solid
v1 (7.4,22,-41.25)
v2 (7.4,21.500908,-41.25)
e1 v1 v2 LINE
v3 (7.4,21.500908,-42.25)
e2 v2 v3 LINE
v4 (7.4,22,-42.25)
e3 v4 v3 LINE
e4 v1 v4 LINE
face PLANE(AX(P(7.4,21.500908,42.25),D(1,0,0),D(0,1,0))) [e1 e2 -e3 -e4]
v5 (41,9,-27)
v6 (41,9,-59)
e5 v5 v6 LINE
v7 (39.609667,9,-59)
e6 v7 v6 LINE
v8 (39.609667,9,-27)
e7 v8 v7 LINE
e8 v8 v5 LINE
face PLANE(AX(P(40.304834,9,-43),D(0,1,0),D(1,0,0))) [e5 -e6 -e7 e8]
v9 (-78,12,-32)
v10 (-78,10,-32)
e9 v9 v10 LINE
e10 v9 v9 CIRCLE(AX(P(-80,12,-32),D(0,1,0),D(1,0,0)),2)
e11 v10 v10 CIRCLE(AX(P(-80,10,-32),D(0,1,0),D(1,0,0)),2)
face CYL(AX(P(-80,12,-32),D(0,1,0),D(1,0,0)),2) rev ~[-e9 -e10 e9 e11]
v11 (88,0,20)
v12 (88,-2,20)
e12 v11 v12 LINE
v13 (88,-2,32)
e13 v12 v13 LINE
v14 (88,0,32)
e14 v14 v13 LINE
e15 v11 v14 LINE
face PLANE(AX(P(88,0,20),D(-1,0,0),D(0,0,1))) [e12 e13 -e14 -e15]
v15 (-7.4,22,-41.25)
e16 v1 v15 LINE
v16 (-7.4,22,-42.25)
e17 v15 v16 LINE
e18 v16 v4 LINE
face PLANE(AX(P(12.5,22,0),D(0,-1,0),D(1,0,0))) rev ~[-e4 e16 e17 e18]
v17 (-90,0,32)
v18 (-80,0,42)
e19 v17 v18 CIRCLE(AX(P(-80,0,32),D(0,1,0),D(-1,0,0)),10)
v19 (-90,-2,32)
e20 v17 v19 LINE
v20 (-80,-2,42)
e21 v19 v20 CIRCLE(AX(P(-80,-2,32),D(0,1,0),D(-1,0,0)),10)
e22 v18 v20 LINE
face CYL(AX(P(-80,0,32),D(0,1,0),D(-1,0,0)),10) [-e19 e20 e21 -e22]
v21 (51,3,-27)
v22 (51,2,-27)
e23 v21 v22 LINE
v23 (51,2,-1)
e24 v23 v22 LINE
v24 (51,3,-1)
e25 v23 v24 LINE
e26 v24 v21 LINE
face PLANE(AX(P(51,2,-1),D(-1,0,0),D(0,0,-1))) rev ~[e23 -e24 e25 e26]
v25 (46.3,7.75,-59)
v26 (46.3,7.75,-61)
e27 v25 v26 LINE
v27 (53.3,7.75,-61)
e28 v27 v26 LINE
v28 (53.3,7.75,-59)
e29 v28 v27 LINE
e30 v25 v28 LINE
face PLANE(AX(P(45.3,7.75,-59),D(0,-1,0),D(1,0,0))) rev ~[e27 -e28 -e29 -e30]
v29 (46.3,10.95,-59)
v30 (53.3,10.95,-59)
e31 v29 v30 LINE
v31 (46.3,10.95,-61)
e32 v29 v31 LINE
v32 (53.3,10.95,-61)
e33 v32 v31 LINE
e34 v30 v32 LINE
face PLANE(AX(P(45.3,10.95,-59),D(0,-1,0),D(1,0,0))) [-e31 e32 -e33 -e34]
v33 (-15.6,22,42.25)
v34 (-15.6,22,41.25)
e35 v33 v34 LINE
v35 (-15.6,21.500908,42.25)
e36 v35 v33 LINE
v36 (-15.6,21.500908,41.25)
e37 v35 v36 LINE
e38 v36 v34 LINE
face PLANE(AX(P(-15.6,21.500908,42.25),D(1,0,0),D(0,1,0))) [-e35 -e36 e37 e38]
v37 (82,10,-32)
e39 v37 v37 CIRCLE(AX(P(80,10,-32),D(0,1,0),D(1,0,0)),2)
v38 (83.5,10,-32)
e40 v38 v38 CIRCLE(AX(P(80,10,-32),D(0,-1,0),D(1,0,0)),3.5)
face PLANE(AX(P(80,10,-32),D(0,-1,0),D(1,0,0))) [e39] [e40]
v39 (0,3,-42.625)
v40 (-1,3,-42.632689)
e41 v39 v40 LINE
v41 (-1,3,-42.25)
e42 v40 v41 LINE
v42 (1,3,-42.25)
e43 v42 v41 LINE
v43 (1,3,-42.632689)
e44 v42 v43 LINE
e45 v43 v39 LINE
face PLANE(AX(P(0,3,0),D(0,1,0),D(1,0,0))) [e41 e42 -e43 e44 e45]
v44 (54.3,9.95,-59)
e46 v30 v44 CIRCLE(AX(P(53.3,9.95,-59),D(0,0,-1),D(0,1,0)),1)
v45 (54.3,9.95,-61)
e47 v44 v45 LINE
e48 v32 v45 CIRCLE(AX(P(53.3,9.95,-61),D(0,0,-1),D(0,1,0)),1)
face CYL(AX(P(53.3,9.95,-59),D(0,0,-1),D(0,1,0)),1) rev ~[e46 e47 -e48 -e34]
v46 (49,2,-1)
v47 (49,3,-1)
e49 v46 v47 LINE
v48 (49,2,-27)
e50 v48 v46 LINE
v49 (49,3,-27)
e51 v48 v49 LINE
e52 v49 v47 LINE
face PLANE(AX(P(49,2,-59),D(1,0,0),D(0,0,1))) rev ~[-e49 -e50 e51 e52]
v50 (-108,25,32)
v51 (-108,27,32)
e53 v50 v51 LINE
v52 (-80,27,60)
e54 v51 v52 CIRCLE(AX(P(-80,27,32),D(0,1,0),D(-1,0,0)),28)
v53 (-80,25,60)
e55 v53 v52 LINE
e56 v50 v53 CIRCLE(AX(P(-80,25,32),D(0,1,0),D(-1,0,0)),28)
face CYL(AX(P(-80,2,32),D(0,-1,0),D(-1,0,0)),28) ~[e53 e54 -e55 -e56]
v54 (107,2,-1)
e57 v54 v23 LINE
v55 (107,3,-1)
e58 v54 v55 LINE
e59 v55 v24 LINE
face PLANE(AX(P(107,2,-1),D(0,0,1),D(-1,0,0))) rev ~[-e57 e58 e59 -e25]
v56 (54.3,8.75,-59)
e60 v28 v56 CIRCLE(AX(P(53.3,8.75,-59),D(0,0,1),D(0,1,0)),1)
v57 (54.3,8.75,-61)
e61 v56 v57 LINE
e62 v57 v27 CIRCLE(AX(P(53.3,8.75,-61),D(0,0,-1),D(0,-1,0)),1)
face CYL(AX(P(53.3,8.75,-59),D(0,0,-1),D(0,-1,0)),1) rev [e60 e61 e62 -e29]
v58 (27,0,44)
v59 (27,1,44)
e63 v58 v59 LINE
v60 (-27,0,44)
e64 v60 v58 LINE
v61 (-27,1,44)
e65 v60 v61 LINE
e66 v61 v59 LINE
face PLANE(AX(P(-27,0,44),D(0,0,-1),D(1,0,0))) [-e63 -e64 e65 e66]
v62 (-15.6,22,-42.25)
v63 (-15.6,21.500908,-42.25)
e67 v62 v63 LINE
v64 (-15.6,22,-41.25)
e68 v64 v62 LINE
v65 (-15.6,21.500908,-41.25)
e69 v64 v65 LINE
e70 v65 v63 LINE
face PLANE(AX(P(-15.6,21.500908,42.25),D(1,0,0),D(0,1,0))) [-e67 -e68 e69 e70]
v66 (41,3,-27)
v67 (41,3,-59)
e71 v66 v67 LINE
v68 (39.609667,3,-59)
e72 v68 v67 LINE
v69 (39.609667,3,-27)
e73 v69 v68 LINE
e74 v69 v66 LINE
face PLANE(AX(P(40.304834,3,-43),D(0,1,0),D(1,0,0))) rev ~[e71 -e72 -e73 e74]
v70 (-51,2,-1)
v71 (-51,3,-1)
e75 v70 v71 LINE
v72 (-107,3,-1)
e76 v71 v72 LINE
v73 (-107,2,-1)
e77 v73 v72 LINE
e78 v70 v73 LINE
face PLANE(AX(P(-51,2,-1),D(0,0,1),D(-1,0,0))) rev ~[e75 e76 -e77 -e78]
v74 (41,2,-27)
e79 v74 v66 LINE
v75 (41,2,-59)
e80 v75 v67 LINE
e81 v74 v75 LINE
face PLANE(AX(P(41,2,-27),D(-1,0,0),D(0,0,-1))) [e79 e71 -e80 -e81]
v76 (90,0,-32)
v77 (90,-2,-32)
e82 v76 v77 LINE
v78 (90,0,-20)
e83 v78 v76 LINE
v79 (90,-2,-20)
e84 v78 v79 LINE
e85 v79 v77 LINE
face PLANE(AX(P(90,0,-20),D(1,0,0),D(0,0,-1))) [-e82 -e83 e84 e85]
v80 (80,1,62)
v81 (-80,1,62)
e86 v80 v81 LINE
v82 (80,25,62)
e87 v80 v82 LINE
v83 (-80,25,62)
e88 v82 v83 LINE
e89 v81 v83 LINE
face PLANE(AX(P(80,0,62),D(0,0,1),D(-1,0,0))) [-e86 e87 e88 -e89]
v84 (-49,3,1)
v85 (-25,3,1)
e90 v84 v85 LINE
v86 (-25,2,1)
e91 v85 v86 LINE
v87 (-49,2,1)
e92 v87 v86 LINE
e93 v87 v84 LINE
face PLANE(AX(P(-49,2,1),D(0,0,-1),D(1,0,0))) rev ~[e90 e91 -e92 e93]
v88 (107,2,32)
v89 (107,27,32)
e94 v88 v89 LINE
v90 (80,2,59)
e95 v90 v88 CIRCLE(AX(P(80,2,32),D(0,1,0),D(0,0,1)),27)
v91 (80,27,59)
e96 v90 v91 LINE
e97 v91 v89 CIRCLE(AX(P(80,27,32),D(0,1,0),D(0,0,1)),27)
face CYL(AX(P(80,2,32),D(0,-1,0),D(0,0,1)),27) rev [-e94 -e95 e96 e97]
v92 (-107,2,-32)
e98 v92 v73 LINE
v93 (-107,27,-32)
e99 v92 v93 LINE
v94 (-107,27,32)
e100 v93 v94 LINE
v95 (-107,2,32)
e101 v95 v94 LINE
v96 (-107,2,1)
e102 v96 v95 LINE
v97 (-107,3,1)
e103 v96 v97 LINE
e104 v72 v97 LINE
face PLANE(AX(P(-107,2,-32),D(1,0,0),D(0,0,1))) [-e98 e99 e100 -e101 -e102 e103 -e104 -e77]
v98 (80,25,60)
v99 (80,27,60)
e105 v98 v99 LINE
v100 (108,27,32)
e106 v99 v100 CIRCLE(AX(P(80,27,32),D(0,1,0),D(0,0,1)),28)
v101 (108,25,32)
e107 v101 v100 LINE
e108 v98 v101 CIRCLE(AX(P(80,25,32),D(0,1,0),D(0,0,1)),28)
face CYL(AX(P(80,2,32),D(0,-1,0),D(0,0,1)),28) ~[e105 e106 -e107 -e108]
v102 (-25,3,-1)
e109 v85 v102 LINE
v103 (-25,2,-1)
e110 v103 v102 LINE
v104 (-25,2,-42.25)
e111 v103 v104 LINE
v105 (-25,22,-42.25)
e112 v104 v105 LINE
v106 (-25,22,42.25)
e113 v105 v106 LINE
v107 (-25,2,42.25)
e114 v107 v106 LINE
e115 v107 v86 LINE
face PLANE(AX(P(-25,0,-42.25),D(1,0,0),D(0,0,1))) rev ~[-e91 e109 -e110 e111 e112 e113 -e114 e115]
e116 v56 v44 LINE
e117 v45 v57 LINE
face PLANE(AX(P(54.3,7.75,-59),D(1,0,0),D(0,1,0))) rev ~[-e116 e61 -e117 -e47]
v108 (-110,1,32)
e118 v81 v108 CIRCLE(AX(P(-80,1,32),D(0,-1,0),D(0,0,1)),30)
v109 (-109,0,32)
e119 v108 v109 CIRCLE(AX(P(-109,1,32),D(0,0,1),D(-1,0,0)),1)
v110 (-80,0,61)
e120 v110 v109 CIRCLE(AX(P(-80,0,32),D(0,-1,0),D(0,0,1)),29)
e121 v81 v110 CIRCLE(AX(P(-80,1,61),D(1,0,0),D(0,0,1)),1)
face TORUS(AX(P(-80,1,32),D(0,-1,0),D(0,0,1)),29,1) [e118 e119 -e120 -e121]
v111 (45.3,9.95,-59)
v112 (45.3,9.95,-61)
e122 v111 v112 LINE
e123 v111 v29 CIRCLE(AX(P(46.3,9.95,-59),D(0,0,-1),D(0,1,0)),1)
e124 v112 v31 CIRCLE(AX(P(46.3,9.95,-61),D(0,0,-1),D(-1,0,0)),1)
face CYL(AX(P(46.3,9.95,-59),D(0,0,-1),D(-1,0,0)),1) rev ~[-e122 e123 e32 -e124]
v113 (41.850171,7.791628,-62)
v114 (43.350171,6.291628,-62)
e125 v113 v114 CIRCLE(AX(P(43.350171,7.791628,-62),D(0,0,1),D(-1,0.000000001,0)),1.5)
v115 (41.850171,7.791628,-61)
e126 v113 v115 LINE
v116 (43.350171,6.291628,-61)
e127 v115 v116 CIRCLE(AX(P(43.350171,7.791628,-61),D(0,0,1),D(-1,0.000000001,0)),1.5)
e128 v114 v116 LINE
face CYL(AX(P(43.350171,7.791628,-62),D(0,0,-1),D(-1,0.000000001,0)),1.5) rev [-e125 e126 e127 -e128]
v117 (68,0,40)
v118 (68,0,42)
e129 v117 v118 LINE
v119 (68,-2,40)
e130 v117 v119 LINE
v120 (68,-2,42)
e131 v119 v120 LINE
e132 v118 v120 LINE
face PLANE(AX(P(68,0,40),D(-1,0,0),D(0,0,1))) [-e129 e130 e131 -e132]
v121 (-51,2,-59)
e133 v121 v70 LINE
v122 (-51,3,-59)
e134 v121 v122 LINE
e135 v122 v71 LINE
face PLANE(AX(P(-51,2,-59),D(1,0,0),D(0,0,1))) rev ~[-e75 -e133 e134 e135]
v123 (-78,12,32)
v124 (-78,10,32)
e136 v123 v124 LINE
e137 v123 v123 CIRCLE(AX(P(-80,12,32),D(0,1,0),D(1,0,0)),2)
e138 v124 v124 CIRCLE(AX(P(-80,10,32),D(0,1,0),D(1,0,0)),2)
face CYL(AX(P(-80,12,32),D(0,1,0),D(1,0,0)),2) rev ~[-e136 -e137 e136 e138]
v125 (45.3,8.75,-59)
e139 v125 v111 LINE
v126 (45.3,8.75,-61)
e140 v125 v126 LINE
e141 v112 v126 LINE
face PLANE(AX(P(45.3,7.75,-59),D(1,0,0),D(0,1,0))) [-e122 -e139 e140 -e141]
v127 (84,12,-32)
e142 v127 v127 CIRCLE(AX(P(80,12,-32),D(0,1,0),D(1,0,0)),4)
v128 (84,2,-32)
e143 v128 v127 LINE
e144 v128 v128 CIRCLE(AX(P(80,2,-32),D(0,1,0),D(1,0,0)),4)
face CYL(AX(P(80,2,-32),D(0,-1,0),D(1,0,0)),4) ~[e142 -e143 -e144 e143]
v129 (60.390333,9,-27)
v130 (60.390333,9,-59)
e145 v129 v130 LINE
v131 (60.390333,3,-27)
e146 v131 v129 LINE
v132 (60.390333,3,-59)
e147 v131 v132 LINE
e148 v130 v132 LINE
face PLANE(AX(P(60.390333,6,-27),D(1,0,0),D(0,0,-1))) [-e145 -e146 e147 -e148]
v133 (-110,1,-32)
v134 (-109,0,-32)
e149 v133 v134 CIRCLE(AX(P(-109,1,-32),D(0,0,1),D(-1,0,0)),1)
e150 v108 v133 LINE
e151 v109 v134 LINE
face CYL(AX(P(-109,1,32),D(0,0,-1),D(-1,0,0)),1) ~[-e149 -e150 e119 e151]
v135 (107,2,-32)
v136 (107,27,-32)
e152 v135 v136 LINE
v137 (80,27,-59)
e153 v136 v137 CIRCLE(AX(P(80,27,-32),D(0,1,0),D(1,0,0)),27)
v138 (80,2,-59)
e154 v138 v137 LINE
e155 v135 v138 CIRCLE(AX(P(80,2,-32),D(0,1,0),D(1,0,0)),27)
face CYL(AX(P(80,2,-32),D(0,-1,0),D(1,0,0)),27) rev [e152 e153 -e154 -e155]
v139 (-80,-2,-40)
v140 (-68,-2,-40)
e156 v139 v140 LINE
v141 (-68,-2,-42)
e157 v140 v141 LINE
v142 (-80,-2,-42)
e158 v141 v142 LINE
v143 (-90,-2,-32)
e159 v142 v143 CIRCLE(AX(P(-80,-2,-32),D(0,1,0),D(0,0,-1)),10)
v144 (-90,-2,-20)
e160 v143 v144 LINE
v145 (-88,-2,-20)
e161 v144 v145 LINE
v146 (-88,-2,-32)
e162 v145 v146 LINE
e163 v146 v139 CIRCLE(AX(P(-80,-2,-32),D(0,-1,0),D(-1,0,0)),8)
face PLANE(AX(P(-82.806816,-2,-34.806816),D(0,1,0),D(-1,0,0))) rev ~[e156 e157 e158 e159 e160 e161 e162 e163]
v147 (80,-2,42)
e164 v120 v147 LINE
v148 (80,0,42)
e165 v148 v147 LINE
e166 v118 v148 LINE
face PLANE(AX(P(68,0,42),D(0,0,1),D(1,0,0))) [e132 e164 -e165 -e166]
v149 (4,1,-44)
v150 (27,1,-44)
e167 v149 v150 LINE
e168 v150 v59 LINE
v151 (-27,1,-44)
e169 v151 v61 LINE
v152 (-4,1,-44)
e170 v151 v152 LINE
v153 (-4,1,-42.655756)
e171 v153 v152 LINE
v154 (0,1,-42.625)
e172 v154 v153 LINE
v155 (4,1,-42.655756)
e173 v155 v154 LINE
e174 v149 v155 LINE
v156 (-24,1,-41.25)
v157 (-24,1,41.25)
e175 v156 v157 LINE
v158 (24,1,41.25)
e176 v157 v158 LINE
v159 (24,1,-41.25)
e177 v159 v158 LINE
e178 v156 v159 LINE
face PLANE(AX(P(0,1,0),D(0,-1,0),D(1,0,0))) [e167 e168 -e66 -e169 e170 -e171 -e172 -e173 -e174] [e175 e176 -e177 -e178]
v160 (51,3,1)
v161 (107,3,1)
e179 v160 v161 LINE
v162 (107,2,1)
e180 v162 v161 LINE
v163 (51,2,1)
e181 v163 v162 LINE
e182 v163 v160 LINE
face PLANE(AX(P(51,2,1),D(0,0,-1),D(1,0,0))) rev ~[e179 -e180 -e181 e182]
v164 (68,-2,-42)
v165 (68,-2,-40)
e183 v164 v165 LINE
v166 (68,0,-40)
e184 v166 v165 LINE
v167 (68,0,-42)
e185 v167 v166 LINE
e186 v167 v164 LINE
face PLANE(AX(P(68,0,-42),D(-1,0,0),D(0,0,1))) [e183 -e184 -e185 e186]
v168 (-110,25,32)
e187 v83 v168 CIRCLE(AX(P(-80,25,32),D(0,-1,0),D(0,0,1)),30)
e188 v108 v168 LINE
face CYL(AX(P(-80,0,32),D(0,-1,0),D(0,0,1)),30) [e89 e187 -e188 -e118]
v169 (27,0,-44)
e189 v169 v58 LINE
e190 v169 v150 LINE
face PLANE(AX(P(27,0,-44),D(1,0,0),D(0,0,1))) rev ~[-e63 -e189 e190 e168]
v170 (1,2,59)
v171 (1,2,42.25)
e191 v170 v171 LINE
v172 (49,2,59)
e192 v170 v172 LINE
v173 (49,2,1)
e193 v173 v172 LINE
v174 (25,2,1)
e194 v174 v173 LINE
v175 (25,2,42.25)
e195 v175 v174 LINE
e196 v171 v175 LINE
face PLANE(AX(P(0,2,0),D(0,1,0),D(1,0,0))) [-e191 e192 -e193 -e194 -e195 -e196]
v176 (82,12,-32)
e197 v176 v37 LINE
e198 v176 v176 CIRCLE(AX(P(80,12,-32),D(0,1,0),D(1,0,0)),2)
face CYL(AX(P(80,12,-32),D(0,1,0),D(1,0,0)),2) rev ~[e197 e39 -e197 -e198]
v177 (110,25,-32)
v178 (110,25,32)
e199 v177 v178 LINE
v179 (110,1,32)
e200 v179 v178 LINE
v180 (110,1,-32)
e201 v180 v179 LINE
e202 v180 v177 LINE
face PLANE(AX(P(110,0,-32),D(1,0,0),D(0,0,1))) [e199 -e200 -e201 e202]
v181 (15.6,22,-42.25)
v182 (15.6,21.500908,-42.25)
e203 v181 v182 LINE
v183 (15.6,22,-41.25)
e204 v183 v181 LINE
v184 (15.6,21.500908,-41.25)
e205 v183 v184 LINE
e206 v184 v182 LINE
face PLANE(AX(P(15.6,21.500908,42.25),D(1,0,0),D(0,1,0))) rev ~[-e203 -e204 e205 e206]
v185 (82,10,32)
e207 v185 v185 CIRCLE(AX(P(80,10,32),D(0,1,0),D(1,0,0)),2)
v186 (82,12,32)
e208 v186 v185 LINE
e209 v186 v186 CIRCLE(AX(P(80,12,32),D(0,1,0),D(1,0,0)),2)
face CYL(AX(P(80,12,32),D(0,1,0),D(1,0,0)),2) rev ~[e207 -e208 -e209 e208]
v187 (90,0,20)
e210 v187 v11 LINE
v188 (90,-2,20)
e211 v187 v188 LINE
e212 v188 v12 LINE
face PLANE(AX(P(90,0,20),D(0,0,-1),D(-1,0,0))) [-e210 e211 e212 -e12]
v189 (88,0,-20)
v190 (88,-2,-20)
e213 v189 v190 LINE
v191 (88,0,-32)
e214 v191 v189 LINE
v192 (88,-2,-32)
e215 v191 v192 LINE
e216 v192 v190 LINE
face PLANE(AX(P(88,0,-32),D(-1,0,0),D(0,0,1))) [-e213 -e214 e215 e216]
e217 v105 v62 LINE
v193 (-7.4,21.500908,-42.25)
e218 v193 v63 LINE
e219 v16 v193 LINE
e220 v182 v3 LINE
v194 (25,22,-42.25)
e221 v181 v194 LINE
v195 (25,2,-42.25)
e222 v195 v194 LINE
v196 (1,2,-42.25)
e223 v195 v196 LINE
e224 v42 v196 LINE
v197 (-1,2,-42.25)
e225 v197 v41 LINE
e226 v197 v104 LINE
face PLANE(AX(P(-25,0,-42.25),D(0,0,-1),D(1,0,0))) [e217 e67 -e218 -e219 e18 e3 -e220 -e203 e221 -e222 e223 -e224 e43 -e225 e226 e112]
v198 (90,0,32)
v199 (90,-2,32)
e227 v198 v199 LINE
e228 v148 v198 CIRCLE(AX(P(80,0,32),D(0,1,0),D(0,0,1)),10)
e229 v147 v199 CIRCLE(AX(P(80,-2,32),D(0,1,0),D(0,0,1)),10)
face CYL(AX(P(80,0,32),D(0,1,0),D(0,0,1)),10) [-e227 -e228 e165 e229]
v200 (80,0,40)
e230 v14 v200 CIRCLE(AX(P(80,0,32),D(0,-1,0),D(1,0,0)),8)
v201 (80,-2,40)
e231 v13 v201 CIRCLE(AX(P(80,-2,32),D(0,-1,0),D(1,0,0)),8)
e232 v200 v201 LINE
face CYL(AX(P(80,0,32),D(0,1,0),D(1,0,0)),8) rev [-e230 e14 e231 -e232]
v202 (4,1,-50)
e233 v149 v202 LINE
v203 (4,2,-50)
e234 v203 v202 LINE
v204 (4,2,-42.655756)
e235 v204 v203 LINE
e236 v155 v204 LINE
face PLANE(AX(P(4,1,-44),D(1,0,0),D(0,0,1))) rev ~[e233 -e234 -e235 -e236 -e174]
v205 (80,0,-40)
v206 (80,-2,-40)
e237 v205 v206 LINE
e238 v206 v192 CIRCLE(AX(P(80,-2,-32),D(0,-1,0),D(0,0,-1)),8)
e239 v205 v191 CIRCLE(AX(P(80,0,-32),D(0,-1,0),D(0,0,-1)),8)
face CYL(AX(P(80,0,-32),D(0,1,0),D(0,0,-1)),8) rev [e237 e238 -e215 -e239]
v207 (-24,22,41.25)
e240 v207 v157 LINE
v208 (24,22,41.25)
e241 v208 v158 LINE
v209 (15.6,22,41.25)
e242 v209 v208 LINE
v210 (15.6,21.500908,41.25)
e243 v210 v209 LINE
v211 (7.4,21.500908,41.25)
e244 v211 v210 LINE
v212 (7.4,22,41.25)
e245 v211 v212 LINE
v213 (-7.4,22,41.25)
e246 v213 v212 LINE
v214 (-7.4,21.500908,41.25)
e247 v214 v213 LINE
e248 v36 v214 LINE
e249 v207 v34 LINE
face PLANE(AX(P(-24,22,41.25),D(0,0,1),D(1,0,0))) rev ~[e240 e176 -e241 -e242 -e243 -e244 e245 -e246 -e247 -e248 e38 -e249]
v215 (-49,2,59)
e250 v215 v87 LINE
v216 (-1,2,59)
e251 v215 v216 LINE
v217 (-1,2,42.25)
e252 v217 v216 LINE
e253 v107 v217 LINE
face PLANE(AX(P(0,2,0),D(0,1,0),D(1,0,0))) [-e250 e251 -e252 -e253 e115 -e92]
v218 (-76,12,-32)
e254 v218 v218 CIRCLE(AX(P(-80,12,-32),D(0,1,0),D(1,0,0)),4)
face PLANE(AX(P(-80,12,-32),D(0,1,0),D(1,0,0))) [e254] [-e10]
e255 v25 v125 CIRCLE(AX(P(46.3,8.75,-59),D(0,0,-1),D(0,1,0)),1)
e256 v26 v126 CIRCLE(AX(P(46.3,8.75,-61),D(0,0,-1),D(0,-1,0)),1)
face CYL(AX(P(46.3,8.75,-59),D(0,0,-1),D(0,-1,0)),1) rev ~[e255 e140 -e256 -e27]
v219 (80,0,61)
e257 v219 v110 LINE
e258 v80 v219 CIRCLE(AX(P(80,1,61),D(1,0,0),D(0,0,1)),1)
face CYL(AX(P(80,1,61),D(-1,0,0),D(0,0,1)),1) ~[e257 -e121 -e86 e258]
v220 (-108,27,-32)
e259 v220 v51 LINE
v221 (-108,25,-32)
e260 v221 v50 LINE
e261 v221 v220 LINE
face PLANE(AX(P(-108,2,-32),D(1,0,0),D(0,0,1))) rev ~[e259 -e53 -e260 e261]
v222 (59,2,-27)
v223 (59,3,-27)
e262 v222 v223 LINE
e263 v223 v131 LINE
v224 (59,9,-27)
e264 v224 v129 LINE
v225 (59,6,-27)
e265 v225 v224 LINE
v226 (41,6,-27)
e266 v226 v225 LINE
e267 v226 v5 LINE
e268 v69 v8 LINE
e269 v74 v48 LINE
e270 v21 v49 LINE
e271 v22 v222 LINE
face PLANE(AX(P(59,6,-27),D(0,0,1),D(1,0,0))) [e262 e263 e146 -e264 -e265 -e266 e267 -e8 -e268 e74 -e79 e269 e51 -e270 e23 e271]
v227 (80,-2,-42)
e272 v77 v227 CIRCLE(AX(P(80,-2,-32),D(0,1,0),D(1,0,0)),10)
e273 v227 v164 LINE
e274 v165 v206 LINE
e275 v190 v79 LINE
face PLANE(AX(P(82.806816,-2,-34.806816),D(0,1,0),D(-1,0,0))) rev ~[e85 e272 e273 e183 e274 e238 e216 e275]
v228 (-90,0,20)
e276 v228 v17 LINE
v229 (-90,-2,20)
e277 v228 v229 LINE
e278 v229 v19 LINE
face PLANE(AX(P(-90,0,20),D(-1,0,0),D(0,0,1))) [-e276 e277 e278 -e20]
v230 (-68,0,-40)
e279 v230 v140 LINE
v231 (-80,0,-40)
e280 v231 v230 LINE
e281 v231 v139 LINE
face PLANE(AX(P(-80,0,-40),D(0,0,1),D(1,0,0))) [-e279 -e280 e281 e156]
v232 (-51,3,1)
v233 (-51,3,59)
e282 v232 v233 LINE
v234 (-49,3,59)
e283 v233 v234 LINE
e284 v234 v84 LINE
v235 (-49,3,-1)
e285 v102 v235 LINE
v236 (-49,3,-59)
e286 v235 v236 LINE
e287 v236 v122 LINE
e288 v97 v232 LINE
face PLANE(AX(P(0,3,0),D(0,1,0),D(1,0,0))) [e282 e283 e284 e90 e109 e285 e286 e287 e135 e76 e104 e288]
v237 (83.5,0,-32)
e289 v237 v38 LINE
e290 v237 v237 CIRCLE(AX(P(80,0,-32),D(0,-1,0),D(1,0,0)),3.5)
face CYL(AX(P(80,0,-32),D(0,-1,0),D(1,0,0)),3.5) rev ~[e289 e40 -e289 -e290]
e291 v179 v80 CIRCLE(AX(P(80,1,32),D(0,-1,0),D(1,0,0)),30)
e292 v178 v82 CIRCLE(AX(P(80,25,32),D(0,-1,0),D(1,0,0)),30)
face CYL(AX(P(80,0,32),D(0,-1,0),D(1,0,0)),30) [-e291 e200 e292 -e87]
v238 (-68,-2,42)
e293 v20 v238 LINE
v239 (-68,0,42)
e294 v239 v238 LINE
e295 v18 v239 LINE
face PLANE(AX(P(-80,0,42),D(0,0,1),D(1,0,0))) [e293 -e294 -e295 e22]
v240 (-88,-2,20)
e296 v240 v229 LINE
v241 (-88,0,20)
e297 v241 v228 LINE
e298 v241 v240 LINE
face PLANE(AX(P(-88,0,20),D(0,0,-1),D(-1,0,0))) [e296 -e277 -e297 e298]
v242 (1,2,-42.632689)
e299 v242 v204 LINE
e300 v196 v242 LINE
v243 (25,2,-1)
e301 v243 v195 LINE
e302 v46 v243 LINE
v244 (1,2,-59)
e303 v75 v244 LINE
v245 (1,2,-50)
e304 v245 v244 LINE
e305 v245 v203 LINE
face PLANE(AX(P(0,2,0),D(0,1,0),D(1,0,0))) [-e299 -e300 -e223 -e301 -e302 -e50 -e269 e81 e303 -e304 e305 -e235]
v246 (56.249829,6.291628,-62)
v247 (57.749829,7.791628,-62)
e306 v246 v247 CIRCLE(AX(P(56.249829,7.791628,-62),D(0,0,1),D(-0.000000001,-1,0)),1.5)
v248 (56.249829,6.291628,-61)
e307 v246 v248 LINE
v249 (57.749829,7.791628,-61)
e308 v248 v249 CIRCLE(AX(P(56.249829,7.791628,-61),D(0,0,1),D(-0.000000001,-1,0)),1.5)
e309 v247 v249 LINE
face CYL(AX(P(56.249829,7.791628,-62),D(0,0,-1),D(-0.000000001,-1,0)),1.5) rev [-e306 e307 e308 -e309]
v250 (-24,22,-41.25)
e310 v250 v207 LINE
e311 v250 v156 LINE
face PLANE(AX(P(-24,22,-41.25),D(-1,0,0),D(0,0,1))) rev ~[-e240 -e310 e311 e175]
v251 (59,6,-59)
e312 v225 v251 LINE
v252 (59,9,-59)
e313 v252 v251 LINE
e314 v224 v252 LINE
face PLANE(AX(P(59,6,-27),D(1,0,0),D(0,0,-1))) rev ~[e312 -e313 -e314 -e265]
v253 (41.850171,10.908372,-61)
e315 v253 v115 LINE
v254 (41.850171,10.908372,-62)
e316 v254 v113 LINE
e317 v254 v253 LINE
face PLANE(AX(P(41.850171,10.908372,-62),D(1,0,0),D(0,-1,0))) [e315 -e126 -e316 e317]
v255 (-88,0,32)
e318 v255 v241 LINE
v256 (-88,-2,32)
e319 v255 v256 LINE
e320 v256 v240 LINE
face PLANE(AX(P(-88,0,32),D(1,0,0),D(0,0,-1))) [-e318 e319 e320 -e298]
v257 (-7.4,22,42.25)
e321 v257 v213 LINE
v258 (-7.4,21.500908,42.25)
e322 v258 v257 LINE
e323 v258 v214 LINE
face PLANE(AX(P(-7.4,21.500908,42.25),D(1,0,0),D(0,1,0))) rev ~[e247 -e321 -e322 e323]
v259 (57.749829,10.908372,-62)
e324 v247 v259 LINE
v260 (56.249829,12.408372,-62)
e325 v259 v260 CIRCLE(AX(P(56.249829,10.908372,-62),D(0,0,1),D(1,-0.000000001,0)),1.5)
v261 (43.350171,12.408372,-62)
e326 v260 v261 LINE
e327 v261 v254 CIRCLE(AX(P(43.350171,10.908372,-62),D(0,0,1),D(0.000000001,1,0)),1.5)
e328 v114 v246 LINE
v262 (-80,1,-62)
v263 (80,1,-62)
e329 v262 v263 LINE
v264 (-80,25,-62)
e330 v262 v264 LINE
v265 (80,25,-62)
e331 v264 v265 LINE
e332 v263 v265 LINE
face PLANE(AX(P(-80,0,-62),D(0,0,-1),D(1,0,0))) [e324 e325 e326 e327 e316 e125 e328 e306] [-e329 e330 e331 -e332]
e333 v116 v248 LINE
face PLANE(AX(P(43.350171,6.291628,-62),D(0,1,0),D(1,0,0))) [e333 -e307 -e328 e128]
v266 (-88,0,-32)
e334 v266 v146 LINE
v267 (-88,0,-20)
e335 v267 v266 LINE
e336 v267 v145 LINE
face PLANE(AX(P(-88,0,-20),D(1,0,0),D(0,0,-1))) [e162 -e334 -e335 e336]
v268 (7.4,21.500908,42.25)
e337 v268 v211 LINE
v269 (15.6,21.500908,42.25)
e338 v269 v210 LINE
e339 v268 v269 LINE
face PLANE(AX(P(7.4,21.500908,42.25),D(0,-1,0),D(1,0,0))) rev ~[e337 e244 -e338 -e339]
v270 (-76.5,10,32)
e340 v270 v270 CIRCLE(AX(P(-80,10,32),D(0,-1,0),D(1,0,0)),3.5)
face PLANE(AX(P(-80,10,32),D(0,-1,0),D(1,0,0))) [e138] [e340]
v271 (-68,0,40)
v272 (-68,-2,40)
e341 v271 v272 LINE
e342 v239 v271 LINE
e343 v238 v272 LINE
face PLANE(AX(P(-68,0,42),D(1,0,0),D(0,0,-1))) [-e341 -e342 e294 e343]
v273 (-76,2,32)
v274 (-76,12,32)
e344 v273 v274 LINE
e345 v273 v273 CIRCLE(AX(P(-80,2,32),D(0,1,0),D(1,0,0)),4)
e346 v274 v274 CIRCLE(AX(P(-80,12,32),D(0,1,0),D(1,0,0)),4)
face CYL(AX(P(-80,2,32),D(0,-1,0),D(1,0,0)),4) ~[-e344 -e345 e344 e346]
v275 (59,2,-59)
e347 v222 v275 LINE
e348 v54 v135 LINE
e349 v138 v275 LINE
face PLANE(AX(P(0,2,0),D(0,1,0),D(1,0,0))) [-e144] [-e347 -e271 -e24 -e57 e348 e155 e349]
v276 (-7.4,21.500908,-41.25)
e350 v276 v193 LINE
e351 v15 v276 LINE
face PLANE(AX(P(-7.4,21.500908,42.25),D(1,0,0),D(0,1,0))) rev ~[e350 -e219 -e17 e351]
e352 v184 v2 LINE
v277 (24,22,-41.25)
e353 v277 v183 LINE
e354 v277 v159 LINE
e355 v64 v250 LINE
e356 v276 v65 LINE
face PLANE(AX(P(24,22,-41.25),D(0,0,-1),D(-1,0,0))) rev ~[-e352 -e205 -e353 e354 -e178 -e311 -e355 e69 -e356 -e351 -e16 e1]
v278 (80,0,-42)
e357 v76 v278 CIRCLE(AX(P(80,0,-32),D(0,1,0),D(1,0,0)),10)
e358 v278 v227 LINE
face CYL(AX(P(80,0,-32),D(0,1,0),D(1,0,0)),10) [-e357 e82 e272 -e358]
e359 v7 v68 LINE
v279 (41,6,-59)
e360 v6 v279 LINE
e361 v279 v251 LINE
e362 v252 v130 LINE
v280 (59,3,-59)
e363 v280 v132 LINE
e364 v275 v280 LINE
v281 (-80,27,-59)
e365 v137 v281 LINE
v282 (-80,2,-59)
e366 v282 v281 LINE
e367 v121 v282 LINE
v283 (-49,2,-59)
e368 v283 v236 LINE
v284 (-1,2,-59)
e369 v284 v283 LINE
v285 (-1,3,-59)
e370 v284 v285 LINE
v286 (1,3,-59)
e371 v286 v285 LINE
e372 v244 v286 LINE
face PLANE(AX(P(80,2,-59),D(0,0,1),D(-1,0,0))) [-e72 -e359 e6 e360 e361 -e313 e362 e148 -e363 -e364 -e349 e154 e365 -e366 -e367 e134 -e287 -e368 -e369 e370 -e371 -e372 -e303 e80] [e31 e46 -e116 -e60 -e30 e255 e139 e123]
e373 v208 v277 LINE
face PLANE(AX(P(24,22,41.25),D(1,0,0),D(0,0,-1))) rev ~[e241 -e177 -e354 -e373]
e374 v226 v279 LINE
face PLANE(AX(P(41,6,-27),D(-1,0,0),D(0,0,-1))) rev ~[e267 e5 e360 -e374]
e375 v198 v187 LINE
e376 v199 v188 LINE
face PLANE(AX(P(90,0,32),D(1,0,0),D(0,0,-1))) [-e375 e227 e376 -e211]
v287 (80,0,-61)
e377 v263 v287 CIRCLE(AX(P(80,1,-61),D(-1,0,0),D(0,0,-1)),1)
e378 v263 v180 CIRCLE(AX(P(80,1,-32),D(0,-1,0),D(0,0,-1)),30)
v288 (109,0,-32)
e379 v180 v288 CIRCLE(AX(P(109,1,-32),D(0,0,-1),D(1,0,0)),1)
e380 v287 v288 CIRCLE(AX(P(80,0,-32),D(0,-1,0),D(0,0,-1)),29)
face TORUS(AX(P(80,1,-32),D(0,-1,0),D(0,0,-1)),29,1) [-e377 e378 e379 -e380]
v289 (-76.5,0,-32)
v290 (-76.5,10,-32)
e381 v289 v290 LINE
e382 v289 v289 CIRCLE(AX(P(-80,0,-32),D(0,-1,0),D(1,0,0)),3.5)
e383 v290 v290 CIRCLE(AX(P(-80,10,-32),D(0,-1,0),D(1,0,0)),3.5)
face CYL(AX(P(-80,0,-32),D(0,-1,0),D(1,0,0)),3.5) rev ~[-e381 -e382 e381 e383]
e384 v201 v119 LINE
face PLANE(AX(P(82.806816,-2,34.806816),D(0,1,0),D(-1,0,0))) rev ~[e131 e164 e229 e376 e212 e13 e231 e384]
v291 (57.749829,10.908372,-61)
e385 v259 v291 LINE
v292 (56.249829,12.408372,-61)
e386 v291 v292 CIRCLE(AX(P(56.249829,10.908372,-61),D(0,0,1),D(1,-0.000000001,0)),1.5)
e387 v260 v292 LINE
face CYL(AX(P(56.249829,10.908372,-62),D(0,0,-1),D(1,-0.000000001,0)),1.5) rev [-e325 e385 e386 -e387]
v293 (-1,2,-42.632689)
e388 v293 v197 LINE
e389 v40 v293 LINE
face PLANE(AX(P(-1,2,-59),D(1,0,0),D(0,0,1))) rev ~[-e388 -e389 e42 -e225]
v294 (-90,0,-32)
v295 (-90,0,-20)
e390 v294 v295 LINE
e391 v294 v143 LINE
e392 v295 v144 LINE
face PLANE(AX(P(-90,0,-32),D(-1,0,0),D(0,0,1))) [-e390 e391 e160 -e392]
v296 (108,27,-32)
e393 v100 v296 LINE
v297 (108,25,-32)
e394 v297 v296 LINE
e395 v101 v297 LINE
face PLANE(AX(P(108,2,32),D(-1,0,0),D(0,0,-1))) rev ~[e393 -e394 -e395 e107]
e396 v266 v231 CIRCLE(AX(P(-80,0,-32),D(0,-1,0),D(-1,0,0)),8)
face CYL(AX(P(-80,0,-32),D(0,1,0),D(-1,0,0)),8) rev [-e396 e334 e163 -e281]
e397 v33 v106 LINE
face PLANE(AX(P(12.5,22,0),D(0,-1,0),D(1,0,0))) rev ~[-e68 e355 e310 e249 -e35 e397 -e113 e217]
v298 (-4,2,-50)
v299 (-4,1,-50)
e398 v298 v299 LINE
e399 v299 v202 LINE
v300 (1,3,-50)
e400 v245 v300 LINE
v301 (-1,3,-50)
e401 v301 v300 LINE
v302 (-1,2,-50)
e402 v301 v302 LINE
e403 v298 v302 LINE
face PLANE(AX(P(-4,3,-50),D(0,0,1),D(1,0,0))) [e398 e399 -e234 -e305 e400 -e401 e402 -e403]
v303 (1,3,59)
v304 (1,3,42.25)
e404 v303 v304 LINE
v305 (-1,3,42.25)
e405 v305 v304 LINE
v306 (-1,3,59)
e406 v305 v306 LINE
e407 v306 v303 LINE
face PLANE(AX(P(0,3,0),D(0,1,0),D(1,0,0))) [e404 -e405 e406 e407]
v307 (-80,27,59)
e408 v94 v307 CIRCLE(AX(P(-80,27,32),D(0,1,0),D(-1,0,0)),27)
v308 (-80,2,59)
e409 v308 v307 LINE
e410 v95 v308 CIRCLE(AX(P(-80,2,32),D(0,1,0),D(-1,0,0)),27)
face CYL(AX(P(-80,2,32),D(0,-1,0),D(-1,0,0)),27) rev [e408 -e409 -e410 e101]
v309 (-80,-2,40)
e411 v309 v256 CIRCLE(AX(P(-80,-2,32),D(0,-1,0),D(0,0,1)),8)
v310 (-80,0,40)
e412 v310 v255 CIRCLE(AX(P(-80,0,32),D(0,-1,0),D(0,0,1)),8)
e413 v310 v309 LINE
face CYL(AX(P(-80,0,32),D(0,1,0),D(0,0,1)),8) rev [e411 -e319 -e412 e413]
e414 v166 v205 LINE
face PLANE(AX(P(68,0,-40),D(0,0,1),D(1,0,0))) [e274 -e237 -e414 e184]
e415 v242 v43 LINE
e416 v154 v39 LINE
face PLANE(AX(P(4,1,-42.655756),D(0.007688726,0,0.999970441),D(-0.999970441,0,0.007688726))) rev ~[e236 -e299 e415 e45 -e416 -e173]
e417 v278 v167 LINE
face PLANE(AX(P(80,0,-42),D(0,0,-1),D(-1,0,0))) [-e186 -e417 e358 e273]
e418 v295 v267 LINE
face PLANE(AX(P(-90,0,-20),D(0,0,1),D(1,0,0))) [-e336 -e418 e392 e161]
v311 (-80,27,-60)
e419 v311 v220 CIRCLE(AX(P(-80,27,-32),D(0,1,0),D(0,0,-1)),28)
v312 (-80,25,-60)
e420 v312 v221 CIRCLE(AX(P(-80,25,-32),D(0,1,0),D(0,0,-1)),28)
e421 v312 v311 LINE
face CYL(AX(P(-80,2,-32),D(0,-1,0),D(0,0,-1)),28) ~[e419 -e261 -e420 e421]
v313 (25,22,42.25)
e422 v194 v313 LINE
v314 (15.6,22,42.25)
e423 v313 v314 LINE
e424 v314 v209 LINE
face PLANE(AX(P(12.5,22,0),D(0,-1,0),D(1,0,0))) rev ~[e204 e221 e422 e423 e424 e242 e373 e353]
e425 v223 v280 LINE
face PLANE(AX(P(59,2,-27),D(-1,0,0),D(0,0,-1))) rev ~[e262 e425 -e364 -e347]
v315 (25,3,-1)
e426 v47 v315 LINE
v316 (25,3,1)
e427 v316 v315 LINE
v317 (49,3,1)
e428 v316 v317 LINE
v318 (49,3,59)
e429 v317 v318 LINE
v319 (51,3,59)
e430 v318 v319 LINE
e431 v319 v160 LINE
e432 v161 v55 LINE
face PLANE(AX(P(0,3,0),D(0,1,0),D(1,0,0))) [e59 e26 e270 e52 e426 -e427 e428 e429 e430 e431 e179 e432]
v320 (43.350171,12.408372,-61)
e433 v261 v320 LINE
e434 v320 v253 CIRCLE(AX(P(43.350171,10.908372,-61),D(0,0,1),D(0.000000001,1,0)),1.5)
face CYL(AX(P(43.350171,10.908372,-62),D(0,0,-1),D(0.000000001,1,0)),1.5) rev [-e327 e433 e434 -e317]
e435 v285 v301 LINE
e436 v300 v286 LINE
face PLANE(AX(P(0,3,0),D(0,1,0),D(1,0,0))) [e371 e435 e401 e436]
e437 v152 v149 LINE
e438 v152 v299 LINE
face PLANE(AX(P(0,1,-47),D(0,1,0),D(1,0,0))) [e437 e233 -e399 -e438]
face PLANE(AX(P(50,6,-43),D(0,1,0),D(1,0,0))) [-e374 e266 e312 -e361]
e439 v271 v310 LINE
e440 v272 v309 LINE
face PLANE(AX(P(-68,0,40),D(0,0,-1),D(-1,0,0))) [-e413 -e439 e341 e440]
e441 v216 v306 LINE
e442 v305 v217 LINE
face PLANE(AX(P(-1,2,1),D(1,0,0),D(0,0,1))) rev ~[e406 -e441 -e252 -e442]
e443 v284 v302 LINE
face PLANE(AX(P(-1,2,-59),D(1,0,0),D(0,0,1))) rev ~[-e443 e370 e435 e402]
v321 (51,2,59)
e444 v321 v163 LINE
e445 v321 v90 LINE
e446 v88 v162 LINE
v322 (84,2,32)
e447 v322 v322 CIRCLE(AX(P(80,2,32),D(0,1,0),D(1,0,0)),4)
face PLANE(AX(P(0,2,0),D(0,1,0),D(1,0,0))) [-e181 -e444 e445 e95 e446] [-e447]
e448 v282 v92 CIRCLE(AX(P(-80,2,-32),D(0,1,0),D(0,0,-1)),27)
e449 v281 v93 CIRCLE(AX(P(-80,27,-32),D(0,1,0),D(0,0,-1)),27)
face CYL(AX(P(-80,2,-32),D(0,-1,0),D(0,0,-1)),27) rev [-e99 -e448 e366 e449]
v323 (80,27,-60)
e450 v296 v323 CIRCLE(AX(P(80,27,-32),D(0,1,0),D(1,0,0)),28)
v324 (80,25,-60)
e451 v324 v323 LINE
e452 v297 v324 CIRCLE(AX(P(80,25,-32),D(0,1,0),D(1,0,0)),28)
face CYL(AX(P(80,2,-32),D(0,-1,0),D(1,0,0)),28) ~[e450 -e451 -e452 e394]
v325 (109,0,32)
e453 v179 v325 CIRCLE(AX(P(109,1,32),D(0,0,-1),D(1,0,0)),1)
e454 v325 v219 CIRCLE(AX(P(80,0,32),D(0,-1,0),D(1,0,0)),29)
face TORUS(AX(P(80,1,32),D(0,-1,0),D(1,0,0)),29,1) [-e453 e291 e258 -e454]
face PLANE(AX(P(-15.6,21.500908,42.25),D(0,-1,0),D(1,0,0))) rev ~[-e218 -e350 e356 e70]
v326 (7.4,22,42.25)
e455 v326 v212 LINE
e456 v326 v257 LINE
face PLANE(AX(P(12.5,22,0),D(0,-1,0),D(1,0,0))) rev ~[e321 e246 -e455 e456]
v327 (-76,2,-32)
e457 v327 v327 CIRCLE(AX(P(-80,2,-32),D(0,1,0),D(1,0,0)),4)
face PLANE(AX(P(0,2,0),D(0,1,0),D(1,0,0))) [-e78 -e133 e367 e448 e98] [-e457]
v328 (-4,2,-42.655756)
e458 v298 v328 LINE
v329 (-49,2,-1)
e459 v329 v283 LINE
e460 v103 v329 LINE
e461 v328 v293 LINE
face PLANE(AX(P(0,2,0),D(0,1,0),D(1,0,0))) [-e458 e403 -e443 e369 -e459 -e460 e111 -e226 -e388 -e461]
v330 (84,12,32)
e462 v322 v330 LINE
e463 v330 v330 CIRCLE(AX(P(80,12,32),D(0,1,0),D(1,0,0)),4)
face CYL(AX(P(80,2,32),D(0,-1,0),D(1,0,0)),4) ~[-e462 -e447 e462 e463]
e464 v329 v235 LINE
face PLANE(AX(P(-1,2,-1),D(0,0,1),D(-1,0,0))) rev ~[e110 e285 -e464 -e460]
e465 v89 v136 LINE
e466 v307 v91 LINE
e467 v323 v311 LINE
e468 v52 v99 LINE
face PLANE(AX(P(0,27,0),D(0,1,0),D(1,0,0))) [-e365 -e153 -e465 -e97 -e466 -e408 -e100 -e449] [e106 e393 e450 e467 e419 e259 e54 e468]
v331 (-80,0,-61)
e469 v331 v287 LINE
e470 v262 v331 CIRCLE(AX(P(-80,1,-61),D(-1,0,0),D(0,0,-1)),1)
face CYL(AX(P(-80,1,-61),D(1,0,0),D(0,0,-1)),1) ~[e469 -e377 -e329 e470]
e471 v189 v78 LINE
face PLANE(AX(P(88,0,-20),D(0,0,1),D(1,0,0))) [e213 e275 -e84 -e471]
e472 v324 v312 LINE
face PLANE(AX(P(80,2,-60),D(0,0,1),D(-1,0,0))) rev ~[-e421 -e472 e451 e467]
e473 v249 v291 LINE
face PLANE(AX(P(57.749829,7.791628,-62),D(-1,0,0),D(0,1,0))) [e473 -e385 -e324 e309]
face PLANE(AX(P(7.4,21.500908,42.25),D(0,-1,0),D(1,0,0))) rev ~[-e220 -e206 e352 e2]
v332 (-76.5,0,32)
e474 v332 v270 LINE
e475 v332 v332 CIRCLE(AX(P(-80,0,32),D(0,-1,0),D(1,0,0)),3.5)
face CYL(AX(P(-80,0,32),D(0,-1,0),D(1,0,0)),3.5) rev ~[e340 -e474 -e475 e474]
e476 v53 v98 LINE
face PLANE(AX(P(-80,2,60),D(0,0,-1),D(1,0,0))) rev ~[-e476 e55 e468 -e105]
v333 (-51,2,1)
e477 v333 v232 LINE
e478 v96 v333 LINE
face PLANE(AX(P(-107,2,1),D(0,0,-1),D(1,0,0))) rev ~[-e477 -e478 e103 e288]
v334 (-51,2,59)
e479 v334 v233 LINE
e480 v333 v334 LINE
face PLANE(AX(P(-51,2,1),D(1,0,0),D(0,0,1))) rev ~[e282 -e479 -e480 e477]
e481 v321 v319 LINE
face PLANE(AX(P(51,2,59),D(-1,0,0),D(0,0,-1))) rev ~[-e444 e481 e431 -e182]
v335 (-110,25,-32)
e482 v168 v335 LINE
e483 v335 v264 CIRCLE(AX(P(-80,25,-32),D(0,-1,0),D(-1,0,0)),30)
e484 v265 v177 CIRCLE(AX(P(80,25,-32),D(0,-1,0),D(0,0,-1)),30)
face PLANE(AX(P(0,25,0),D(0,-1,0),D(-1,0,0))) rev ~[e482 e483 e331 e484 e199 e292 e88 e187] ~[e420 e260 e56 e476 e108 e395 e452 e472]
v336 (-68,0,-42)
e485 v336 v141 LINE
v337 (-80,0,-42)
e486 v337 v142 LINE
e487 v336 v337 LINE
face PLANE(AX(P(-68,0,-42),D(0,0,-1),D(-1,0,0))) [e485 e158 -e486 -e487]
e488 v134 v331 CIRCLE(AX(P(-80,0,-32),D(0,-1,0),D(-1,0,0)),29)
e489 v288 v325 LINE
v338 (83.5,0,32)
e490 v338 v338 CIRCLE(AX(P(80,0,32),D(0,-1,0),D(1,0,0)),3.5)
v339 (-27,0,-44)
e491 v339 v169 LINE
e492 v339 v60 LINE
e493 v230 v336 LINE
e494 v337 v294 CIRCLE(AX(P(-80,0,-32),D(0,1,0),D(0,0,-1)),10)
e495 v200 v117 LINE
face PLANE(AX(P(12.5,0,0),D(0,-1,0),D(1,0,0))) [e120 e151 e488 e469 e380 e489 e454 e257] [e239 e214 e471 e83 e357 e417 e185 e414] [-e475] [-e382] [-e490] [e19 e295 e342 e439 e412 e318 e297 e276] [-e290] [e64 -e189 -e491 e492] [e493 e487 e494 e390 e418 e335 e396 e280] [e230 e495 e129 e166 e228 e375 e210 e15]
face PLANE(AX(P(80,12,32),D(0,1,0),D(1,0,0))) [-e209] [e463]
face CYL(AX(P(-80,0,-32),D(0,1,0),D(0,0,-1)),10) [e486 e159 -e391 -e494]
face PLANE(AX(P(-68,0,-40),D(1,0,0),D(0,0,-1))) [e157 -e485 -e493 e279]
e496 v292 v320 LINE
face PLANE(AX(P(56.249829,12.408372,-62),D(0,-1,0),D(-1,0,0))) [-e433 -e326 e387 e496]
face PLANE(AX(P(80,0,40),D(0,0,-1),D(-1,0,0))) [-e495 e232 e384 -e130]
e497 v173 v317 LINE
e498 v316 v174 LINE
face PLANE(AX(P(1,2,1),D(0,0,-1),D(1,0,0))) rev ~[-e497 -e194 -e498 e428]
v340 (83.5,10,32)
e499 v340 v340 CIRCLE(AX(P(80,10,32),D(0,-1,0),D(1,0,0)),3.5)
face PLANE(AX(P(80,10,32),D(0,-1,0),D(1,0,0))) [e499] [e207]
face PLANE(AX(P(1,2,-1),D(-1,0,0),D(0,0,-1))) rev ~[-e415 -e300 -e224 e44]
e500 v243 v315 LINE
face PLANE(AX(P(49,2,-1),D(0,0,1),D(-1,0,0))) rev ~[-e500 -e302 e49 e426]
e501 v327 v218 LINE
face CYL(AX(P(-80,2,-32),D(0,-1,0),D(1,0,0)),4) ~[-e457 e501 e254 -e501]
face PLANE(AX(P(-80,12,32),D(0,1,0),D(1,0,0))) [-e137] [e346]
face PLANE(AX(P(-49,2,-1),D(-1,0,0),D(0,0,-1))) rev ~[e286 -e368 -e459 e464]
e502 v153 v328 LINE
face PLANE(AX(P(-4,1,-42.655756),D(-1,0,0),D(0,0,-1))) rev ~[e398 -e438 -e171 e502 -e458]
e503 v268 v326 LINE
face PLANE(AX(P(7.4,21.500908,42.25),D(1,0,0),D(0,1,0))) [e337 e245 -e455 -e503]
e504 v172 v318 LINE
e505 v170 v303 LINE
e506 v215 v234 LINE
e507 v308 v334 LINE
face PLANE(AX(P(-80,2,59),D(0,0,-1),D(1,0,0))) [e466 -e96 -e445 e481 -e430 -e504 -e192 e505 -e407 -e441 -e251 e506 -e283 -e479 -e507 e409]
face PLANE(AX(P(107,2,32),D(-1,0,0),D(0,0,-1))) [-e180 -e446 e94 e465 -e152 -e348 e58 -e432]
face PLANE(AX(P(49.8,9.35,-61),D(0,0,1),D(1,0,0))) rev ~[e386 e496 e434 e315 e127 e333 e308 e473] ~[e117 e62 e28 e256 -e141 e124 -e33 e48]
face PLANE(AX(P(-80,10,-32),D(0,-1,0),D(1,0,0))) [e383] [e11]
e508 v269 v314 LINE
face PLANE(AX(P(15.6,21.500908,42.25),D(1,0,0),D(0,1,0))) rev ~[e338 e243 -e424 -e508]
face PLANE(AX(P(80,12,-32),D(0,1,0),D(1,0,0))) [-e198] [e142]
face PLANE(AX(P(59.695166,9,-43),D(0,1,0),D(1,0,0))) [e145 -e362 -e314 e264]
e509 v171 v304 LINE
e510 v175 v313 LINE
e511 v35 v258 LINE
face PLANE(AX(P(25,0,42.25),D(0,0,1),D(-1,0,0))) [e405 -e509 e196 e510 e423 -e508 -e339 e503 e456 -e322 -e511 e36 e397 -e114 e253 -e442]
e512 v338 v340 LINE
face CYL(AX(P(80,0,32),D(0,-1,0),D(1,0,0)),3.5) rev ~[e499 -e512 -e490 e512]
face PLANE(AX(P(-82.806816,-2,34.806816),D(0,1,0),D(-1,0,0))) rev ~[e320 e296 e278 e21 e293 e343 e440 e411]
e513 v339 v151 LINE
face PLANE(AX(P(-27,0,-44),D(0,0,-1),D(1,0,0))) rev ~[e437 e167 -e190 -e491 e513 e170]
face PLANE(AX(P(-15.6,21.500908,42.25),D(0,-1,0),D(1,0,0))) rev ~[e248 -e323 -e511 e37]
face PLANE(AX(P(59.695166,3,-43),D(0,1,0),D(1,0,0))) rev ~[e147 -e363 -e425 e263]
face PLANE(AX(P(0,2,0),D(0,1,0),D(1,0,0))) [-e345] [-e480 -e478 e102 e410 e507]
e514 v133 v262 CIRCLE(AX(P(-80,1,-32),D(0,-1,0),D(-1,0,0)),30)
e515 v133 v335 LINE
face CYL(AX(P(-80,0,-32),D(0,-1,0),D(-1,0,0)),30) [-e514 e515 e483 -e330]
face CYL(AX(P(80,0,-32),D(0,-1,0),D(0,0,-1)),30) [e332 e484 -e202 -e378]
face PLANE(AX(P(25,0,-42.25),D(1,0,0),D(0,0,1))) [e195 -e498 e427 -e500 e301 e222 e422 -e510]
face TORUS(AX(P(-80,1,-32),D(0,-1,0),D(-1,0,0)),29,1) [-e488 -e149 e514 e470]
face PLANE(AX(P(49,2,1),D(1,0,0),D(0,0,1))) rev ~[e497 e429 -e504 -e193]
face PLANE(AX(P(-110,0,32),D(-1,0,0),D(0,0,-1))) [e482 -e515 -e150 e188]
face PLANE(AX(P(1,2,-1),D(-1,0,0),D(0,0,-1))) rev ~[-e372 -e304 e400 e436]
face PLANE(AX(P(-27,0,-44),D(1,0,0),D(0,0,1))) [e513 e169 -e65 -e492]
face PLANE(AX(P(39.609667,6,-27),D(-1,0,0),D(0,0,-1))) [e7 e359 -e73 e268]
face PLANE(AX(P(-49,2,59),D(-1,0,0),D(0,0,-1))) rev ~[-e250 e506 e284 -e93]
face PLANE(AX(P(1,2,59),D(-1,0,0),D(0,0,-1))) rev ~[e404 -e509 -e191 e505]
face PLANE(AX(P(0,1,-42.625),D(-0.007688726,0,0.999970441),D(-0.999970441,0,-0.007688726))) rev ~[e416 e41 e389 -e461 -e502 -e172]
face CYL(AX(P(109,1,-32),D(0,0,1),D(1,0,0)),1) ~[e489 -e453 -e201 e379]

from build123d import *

# Parameters (mm, degrees)
BOSS_EXTRUDE1_DEPTH = 25
CUT_EXTRUDE1_DEPTH  = 23
BOSS_EXTRUDE2_DEPTH = 25
BOSS_EXTRUDE3_DEPTH = 2
SKETCH6_R           = 4
BOSS_EXTRUDE4_DEPTH = 10
SKETCH7_R           = 2
CUT_EXTRUDE2_DEPTH  = 54
SKETCH8_R           = 3.5
CUT_EXTRUDE3_DEPTH  = 10
BOSS_EXTRUDE5_DEPTH = 1
FILLET1_R           = 1
SKETCH11_W          = 25
SKETCH11_H          = 84.5
BOSS_EXTRUDE7_DEPTH = 22
CUT_EXTRUDE4_DEPTH  = 34.548411539
SKETCH13_W          = 8.2
SKETCH13_H          = 0.499092091
CUT_EXTRUDE5_DEPTH  = 94.548411539
SKETCH14_W          = 54
SKETCH14_H          = 88
SKETCH14_W_2        = 48
SKETCH14_H_2        = 82.5
CUT_EXTRUDE6_DEPTH  = 1
CUT_EXTRUDE7_DEPTH  = 2
SKETCH16_W          = 8
SKETCH16_H          = 6
CUT_EXTRUDE9_DEPTH  = 2
SKETCH17_W          = 18
SKETCH17_H          = 32
BOSS_EXTRUDE8_DEPTH = 4
SKETCH18_W          = 1.390332564
SKETCH18_H          = 32
BOSS_EXTRUDE9_DEPTH = 3
SKETCH19_W          = 9
SKETCH19_H          = 3.2
CUT_EXTRUDE10_DEPTH = 6
FILLET2_R           = 1
FILLET3_R           = 1
FILLET4_R           = 1
FILLET5_R           = 1
CUT_EXTRUDE12_DEPTH = 1


with BuildPart() as part:
    # Sketch1 → Boss-Extrude1 (new body)
    with BuildSketch(Plane(origin=(0, 0, 0), x_dir=(1, 0, 0), z_dir=(0, 1, 0))):
        with BuildLine():
            Line((-80, 62), (80, 62))
            ThreePointArc((80, 62), (101.213203436, 53.213203436), (110, 32))
            Line((110, 32), (110, -32))
            ThreePointArc((110, -32), (101.213203436, -53.213203436), (80, -62))
            Line((80, -62), (-80, -62))
            ThreePointArc((-80, -62), (-101.213203436, -53.213203436), (-110, -32))
            Line((-110, -32), (-110, 32))
            ThreePointArc((-110, 32), (-101.213203436, 53.213203436), (-80, 62))
        make_face()
    extrude(amount=BOSS_EXTRUDE1_DEPTH)

    # Sketch2 → Cut-Extrude1 (cut)
    with BuildSketch(Plane(origin=(0, 25, 0), x_dir=(1, 0, 0), z_dir=(0, 1, 0))):
        with BuildLine():
            Line((-80, -60), (80, -60))
            ThreePointArc((80, -60), (99.798989873, -51.798989873), (108, -32))
            Line((108, -32), (108, 32))
            ThreePointArc((108, 32), (99.798989873, 51.798989873), (80, 60))
            Line((80, 60), (-80, 60))
            ThreePointArc((-80, 60), (-99.798989873, 51.798989873), (-108, 32))
            Line((-108, 32), (-108, -32))
            ThreePointArc((-108, -32), (-99.798989873, -51.798989873), (-80, -60))
        make_face()
    extrude(amount=-CUT_EXTRUDE1_DEPTH, mode=Mode.SUBTRACT)

    # Sketch3 → Boss-Extrude2 (add)
    with BuildSketch(Plane(origin=(0, 2, 0), x_dir=(1, 0, 0), z_dir=(0, 1, 0))):
        with BuildLine():
            Line((-80, -60), (80, -60))
            ThreePointArc((80, -60), (99.798989873, -51.798989873), (108, -32))
            Line((108, -32), (108, 32))
            ThreePointArc((108, 32), (99.798989873, 51.798989873), (80, 60))
            Line((80, 60), (-80, 60))
            ThreePointArc((-80, 60), (-99.798989873, 51.798989873), (-108, 32))
            Line((-108, 32), (-108, -32))
            ThreePointArc((-108, -32), (-99.798989873, -51.798989873), (-80, -60))
        make_face()
        with BuildLine():
            Line((-80, -59), (80, -59))
            ThreePointArc((80, -59), (99.091883092, -51.091883092), (107, -32))
            Line((107, -32), (107, 32))
            ThreePointArc((107, 32), (99.091883092, 51.091883092), (80, 59))
            Line((80, 59), (-80, 59))
            ThreePointArc((-80, 59), (-99.091883092, 51.091883092), (-107, 32))
            Line((-107, 32), (-107, -32))
            ThreePointArc((-107, -32), (-99.091883092, -51.091883092), (-80, -59))
        make_face(mode=Mode.SUBTRACT)
    extrude(amount=BOSS_EXTRUDE2_DEPTH)

    # Sketch5 → Boss-Extrude3 (add)
    with BuildSketch(Plane.XZ):
        with BuildLine():
            Line((-88, 32), (-88, 20))
            Line((-88, 20), (-90, 20))
            Line((-90, 20), (-90, 32))
            ThreePointArc((-90, 32), (-87.071067812, 39.071067812), (-80, 42))
            Line((-80, 42), (-68, 42))
            Line((-68, 42), (-68, 40))
            Line((-68, 40), (-80, 40))
            ThreePointArc((-80, 40), (-85.656854249, 37.656854249), (-88, 32))
        make_face()
        with BuildLine():
            Line((-80, -40), (-68, -40))
            Line((-68, -40), (-68, -42))
            Line((-68, -42), (-80, -42))
            ThreePointArc((-80, -42), (-87.071067812, -39.071067812), (-90, -32))
            Line((-90, -32), (-90, -20))
            Line((-90, -20), (-88, -20))
            Line((-88, -20), (-88, -32))
            ThreePointArc((-88, -32), (-85.656854249, -37.656854249), (-80, -40))
        make_face()
        with BuildLine():
            Line((88, -32), (88, -20))
            Line((88, -20), (90, -20))
            Line((90, -20), (90, -32))
            ThreePointArc((90, -32), (87.071067812, -39.071067812), (80, -42))
            Line((80, -42), (68, -42))
            Line((68, -42), (68, -40))
            Line((68, -40), (80, -40))
            ThreePointArc((80, -40), (85.656854249, -37.656854249), (88, -32))
        make_face()
        with BuildLine():
            Line((80, 40), (68, 40))
            Line((68, 40), (68, 42))
            Line((68, 42), (80, 42))
            ThreePointArc((80, 42), (87.071067812, 39.071067812), (90, 32))
            Line((90, 32), (90, 20))
            Line((90, 20), (88, 20))
            Line((88, 20), (88, 32))
            ThreePointArc((88, 32), (85.656854249, 37.656854249), (80, 40))
        make_face()
    extrude(amount=BOSS_EXTRUDE3_DEPTH)

    # Sketch6 → Boss-Extrude4 (add)
    with BuildSketch(Plane(origin=(0, 2, 0), x_dir=(1, 0, 0), z_dir=(0, 1, 0))):
        with Locations((80, 32)):
            Circle(SKETCH6_R)
        with Locations((80, -32)):
            Circle(SKETCH6_R)
        with Locations((-80, -32)):
            Circle(SKETCH6_R)
        with Locations((-80, 32)):
            Circle(SKETCH6_R)
    extrude(amount=BOSS_EXTRUDE4_DEPTH)

    # Sketch7 → Cut-Extrude2 (cut)
    with BuildSketch(Plane(origin=(0, 12, 0), x_dir=(1, 0, 0), z_dir=(0, 1, 0))):
        with Locations((80, 32)):
            Circle(SKETCH7_R)
        with Locations((80, -32)):
            Circle(SKETCH7_R)
        with Locations((-80, -32)):
            Circle(SKETCH7_R)
        with Locations((-80, 32)):
            Circle(SKETCH7_R)
    extrude(amount=-CUT_EXTRUDE2_DEPTH, mode=Mode.SUBTRACT)

    # Sketch8 → Cut-Extrude3 (cut)
    with BuildSketch(Plane.XZ):
        with Locations((-80, 32)):
            Circle(SKETCH8_R)
        with Locations((-80, -32)):
            Circle(SKETCH8_R)
        with Locations((80, -32)):
            Circle(SKETCH8_R)
        with Locations((80, 32)):
            Circle(SKETCH8_R)
    extrude(amount=-CUT_EXTRUDE3_DEPTH, mode=Mode.SUBTRACT)

    # Sketch9 → Boss-Extrude5 (add)
    with BuildSketch(Plane(origin=(0, 2, 0), x_dir=(1, 0, 0), z_dir=(0, 1, 0))):
        Polygon((49, -59), (51, -59), (51, -1), (107, -1), (107, 1), (51, 1), (51, 59), (49, 59), (49, 1), (1, 1), (1, 59), (-1, 59), (-1, 1), (-49, 1), (-49, 59), (-51, 59), (-51, 1), (-107, 1), (-107, -1), (-51, -1), (-51, -59), (-49, -59), (-49, -1), (-1, -1), (-1, -59), (1, -59), (1, -1), (49, -1), align=None)
    extrude(amount=BOSS_EXTRUDE5_DEPTH)

    # Fillet1
    fillet1_edges = [part.edges().sort_by_distance(p)[0] for p in [
        (0, 0, 62),
        (-101.213203436, 0, 53.213203436),
        (-110, 0, 0),
        (-101.213203436, 0, -53.213203436),
        (0, 0, -62),
        (101.213203436, 0, -53.213203436),
        (110, 0, 0),
        (101.213203436, 0, 53.213203436),
    ]]
    fillet(fillet1_edges, radius=FILLET1_R)

    # Sketch11 → Boss-Extrude7 (add)
    with BuildSketch(Plane.XZ):
        with Locations((12.5, 0)):
            Rectangle(SKETCH11_W, SKETCH11_H)
        with Locations((-12.5, 0)):
            Rectangle(SKETCH11_W, SKETCH11_H)
    extrude(amount=-BOSS_EXTRUDE7_DEPTH)

    # Sketch12 → Cut-Extrude4 (cut)
    with BuildSketch(Plane(origin=(0, 22, 0), x_dir=(1, 0, 0), z_dir=(0, 1, 0))):
        Polygon((-24, 41.25), (-24, 40.56), (24, -40.56), (24, 41.25), align=None)
        Polygon((24, -40.56), (-24, 40.56), (-24, -41.25), (24, -41.25), align=None)
    extrude(amount=-CUT_EXTRUDE4_DEPTH, mode=Mode.SUBTRACT)

    # Sketch13 → Cut-Extrude5 (cut)
    with BuildSketch(Plane.XY.offset(42.25)):
        with Locations((11.5, 21.750453955)):
            Rectangle(SKETCH13_W, SKETCH13_H)
        with Locations((-11.5, 21.750453955)):
            Rectangle(SKETCH13_W, SKETCH13_H)
    extrude(amount=-CUT_EXTRUDE5_DEPTH, mode=Mode.SUBTRACT)

    # Sketch14 → Cut-Extrude6 (cut)
    with BuildSketch(Plane.XZ):
        Rectangle(SKETCH14_W, SKETCH14_H)
        Rectangle(SKETCH14_W_2, SKETCH14_H_2, mode=Mode.SUBTRACT)
    extrude(amount=-CUT_EXTRUDE6_DEPTH, mode=Mode.SUBTRACT)

    # Sketch15 → Cut-Extrude7 (cut)
    with BuildSketch(Plane.XZ.offset(-1)):
        Polygon((-4, -42.655755812), (-4, -44), (4, -44), (4, -42.655755812), (0, -42.625), align=None)
    extrude(amount=-CUT_EXTRUDE7_DEPTH, mode=Mode.SUBTRACT)

    # Sketch16 → Cut-Extrude9 (cut)
    with BuildSketch(Plane(origin=(0, 3, 0), x_dir=(1, 0, 0), z_dir=(0, 1, 0))):
        with Locations((0, 47)):
            Rectangle(SKETCH16_W, SKETCH16_H)
    extrude(amount=-CUT_EXTRUDE9_DEPTH, mode=Mode.SUBTRACT)

    # Sketch17 → Boss-Extrude8 (add)
    with BuildSketch(Plane(origin=(0, 2, 0), x_dir=(1, 0, 0), z_dir=(0, 1, 0))):
        with Locations((50, 43)):
            Rectangle(SKETCH17_W, SKETCH17_H)
    extrude(amount=BOSS_EXTRUDE8_DEPTH)

    # Sketch18 → Boss-Extrude9 (add, symmetric)
    with BuildSketch(Plane(origin=(0, 6, 0), x_dir=(1, 0, 0), z_dir=(0, 1, 0))):
        with Locations((40.304833718, 43)):
            Rectangle(SKETCH18_W, SKETCH18_H)
        with Locations((59.695166282, 43)):
            Rectangle(SKETCH18_W, SKETCH18_H)
    extrude(amount=BOSS_EXTRUDE9_DEPTH, both=True)

    # Sketch19 → Cut-Extrude10 (cut)
    with BuildSketch(Plane.XY.offset(-59)):
        with Locations((49.8, 9.35)):
            Rectangle(SKETCH19_W, SKETCH19_H)
    extrude(amount=-CUT_EXTRUDE10_DEPTH, mode=Mode.SUBTRACT)

    # Fillet2
    fillet2_edges = [part.edges().sort_by_distance(p)[0] for p in [
        (54.3, 7.75, -60.5),
    ]]
    fillet(fillet2_edges, radius=FILLET2_R)

    # Fillet3
    fillet3_edges = [part.edges().sort_by_distance(p)[0] for p in [
        (45.3, 7.75, -60.5),
    ]]
    fillet(fillet3_edges, radius=FILLET3_R)

    # Fillet4
    fillet4_edges = [part.edges().sort_by_distance(p)[0] for p in [
        (45.3, 10.95, -60.5),
    ]]
    fillet(fillet4_edges, radius=FILLET4_R)

    # Fillet5
    fillet5_edges = [part.edges().sort_by_distance(p)[0] for p in [
        (54.3, 10.95, -60.5),
    ]]
    fillet(fillet5_edges, radius=FILLET5_R)

    # Sketch20 → Cut-Extrude12 (cut)
    with BuildSketch(Plane(origin=(0, 0, -62), x_dir=(-1, 0, 0), z_dir=(0, 0, -1))):
        with BuildLine():
            Line((-56.249828927, 12.40837238), (-43.350171073, 12.40837238))
            ThreePointArc((-43.350171073, 12.40837238), (-42.289510901, 11.969032552), (-41.850171073, 10.90837238))
            Line((-41.850171073, 10.90837238), (-41.850171073, 7.79162762))
            ThreePointArc((-41.850171073, 7.79162762), (-42.289510901, 6.730967448), (-43.350171073, 6.29162762))
            Line((-43.350171073, 6.29162762), (-56.249828927, 6.29162762))
            ThreePointArc((-56.249828927, 6.29162762), (-57.310489099, 6.730967448), (-57.749828927, 7.79162762))
            Line((-57.749828927, 7.79162762), (-57.749828927, 10.90837238))
            ThreePointArc((-57.749828927, 10.90837238), (-57.310489099, 11.969032552), (-56.249828927, 12.40837238))
        make_face()
    extrude(amount=-CUT_EXTRUDE12_DEPTH, mode=Mode.SUBTRACT)


solid = part.part
